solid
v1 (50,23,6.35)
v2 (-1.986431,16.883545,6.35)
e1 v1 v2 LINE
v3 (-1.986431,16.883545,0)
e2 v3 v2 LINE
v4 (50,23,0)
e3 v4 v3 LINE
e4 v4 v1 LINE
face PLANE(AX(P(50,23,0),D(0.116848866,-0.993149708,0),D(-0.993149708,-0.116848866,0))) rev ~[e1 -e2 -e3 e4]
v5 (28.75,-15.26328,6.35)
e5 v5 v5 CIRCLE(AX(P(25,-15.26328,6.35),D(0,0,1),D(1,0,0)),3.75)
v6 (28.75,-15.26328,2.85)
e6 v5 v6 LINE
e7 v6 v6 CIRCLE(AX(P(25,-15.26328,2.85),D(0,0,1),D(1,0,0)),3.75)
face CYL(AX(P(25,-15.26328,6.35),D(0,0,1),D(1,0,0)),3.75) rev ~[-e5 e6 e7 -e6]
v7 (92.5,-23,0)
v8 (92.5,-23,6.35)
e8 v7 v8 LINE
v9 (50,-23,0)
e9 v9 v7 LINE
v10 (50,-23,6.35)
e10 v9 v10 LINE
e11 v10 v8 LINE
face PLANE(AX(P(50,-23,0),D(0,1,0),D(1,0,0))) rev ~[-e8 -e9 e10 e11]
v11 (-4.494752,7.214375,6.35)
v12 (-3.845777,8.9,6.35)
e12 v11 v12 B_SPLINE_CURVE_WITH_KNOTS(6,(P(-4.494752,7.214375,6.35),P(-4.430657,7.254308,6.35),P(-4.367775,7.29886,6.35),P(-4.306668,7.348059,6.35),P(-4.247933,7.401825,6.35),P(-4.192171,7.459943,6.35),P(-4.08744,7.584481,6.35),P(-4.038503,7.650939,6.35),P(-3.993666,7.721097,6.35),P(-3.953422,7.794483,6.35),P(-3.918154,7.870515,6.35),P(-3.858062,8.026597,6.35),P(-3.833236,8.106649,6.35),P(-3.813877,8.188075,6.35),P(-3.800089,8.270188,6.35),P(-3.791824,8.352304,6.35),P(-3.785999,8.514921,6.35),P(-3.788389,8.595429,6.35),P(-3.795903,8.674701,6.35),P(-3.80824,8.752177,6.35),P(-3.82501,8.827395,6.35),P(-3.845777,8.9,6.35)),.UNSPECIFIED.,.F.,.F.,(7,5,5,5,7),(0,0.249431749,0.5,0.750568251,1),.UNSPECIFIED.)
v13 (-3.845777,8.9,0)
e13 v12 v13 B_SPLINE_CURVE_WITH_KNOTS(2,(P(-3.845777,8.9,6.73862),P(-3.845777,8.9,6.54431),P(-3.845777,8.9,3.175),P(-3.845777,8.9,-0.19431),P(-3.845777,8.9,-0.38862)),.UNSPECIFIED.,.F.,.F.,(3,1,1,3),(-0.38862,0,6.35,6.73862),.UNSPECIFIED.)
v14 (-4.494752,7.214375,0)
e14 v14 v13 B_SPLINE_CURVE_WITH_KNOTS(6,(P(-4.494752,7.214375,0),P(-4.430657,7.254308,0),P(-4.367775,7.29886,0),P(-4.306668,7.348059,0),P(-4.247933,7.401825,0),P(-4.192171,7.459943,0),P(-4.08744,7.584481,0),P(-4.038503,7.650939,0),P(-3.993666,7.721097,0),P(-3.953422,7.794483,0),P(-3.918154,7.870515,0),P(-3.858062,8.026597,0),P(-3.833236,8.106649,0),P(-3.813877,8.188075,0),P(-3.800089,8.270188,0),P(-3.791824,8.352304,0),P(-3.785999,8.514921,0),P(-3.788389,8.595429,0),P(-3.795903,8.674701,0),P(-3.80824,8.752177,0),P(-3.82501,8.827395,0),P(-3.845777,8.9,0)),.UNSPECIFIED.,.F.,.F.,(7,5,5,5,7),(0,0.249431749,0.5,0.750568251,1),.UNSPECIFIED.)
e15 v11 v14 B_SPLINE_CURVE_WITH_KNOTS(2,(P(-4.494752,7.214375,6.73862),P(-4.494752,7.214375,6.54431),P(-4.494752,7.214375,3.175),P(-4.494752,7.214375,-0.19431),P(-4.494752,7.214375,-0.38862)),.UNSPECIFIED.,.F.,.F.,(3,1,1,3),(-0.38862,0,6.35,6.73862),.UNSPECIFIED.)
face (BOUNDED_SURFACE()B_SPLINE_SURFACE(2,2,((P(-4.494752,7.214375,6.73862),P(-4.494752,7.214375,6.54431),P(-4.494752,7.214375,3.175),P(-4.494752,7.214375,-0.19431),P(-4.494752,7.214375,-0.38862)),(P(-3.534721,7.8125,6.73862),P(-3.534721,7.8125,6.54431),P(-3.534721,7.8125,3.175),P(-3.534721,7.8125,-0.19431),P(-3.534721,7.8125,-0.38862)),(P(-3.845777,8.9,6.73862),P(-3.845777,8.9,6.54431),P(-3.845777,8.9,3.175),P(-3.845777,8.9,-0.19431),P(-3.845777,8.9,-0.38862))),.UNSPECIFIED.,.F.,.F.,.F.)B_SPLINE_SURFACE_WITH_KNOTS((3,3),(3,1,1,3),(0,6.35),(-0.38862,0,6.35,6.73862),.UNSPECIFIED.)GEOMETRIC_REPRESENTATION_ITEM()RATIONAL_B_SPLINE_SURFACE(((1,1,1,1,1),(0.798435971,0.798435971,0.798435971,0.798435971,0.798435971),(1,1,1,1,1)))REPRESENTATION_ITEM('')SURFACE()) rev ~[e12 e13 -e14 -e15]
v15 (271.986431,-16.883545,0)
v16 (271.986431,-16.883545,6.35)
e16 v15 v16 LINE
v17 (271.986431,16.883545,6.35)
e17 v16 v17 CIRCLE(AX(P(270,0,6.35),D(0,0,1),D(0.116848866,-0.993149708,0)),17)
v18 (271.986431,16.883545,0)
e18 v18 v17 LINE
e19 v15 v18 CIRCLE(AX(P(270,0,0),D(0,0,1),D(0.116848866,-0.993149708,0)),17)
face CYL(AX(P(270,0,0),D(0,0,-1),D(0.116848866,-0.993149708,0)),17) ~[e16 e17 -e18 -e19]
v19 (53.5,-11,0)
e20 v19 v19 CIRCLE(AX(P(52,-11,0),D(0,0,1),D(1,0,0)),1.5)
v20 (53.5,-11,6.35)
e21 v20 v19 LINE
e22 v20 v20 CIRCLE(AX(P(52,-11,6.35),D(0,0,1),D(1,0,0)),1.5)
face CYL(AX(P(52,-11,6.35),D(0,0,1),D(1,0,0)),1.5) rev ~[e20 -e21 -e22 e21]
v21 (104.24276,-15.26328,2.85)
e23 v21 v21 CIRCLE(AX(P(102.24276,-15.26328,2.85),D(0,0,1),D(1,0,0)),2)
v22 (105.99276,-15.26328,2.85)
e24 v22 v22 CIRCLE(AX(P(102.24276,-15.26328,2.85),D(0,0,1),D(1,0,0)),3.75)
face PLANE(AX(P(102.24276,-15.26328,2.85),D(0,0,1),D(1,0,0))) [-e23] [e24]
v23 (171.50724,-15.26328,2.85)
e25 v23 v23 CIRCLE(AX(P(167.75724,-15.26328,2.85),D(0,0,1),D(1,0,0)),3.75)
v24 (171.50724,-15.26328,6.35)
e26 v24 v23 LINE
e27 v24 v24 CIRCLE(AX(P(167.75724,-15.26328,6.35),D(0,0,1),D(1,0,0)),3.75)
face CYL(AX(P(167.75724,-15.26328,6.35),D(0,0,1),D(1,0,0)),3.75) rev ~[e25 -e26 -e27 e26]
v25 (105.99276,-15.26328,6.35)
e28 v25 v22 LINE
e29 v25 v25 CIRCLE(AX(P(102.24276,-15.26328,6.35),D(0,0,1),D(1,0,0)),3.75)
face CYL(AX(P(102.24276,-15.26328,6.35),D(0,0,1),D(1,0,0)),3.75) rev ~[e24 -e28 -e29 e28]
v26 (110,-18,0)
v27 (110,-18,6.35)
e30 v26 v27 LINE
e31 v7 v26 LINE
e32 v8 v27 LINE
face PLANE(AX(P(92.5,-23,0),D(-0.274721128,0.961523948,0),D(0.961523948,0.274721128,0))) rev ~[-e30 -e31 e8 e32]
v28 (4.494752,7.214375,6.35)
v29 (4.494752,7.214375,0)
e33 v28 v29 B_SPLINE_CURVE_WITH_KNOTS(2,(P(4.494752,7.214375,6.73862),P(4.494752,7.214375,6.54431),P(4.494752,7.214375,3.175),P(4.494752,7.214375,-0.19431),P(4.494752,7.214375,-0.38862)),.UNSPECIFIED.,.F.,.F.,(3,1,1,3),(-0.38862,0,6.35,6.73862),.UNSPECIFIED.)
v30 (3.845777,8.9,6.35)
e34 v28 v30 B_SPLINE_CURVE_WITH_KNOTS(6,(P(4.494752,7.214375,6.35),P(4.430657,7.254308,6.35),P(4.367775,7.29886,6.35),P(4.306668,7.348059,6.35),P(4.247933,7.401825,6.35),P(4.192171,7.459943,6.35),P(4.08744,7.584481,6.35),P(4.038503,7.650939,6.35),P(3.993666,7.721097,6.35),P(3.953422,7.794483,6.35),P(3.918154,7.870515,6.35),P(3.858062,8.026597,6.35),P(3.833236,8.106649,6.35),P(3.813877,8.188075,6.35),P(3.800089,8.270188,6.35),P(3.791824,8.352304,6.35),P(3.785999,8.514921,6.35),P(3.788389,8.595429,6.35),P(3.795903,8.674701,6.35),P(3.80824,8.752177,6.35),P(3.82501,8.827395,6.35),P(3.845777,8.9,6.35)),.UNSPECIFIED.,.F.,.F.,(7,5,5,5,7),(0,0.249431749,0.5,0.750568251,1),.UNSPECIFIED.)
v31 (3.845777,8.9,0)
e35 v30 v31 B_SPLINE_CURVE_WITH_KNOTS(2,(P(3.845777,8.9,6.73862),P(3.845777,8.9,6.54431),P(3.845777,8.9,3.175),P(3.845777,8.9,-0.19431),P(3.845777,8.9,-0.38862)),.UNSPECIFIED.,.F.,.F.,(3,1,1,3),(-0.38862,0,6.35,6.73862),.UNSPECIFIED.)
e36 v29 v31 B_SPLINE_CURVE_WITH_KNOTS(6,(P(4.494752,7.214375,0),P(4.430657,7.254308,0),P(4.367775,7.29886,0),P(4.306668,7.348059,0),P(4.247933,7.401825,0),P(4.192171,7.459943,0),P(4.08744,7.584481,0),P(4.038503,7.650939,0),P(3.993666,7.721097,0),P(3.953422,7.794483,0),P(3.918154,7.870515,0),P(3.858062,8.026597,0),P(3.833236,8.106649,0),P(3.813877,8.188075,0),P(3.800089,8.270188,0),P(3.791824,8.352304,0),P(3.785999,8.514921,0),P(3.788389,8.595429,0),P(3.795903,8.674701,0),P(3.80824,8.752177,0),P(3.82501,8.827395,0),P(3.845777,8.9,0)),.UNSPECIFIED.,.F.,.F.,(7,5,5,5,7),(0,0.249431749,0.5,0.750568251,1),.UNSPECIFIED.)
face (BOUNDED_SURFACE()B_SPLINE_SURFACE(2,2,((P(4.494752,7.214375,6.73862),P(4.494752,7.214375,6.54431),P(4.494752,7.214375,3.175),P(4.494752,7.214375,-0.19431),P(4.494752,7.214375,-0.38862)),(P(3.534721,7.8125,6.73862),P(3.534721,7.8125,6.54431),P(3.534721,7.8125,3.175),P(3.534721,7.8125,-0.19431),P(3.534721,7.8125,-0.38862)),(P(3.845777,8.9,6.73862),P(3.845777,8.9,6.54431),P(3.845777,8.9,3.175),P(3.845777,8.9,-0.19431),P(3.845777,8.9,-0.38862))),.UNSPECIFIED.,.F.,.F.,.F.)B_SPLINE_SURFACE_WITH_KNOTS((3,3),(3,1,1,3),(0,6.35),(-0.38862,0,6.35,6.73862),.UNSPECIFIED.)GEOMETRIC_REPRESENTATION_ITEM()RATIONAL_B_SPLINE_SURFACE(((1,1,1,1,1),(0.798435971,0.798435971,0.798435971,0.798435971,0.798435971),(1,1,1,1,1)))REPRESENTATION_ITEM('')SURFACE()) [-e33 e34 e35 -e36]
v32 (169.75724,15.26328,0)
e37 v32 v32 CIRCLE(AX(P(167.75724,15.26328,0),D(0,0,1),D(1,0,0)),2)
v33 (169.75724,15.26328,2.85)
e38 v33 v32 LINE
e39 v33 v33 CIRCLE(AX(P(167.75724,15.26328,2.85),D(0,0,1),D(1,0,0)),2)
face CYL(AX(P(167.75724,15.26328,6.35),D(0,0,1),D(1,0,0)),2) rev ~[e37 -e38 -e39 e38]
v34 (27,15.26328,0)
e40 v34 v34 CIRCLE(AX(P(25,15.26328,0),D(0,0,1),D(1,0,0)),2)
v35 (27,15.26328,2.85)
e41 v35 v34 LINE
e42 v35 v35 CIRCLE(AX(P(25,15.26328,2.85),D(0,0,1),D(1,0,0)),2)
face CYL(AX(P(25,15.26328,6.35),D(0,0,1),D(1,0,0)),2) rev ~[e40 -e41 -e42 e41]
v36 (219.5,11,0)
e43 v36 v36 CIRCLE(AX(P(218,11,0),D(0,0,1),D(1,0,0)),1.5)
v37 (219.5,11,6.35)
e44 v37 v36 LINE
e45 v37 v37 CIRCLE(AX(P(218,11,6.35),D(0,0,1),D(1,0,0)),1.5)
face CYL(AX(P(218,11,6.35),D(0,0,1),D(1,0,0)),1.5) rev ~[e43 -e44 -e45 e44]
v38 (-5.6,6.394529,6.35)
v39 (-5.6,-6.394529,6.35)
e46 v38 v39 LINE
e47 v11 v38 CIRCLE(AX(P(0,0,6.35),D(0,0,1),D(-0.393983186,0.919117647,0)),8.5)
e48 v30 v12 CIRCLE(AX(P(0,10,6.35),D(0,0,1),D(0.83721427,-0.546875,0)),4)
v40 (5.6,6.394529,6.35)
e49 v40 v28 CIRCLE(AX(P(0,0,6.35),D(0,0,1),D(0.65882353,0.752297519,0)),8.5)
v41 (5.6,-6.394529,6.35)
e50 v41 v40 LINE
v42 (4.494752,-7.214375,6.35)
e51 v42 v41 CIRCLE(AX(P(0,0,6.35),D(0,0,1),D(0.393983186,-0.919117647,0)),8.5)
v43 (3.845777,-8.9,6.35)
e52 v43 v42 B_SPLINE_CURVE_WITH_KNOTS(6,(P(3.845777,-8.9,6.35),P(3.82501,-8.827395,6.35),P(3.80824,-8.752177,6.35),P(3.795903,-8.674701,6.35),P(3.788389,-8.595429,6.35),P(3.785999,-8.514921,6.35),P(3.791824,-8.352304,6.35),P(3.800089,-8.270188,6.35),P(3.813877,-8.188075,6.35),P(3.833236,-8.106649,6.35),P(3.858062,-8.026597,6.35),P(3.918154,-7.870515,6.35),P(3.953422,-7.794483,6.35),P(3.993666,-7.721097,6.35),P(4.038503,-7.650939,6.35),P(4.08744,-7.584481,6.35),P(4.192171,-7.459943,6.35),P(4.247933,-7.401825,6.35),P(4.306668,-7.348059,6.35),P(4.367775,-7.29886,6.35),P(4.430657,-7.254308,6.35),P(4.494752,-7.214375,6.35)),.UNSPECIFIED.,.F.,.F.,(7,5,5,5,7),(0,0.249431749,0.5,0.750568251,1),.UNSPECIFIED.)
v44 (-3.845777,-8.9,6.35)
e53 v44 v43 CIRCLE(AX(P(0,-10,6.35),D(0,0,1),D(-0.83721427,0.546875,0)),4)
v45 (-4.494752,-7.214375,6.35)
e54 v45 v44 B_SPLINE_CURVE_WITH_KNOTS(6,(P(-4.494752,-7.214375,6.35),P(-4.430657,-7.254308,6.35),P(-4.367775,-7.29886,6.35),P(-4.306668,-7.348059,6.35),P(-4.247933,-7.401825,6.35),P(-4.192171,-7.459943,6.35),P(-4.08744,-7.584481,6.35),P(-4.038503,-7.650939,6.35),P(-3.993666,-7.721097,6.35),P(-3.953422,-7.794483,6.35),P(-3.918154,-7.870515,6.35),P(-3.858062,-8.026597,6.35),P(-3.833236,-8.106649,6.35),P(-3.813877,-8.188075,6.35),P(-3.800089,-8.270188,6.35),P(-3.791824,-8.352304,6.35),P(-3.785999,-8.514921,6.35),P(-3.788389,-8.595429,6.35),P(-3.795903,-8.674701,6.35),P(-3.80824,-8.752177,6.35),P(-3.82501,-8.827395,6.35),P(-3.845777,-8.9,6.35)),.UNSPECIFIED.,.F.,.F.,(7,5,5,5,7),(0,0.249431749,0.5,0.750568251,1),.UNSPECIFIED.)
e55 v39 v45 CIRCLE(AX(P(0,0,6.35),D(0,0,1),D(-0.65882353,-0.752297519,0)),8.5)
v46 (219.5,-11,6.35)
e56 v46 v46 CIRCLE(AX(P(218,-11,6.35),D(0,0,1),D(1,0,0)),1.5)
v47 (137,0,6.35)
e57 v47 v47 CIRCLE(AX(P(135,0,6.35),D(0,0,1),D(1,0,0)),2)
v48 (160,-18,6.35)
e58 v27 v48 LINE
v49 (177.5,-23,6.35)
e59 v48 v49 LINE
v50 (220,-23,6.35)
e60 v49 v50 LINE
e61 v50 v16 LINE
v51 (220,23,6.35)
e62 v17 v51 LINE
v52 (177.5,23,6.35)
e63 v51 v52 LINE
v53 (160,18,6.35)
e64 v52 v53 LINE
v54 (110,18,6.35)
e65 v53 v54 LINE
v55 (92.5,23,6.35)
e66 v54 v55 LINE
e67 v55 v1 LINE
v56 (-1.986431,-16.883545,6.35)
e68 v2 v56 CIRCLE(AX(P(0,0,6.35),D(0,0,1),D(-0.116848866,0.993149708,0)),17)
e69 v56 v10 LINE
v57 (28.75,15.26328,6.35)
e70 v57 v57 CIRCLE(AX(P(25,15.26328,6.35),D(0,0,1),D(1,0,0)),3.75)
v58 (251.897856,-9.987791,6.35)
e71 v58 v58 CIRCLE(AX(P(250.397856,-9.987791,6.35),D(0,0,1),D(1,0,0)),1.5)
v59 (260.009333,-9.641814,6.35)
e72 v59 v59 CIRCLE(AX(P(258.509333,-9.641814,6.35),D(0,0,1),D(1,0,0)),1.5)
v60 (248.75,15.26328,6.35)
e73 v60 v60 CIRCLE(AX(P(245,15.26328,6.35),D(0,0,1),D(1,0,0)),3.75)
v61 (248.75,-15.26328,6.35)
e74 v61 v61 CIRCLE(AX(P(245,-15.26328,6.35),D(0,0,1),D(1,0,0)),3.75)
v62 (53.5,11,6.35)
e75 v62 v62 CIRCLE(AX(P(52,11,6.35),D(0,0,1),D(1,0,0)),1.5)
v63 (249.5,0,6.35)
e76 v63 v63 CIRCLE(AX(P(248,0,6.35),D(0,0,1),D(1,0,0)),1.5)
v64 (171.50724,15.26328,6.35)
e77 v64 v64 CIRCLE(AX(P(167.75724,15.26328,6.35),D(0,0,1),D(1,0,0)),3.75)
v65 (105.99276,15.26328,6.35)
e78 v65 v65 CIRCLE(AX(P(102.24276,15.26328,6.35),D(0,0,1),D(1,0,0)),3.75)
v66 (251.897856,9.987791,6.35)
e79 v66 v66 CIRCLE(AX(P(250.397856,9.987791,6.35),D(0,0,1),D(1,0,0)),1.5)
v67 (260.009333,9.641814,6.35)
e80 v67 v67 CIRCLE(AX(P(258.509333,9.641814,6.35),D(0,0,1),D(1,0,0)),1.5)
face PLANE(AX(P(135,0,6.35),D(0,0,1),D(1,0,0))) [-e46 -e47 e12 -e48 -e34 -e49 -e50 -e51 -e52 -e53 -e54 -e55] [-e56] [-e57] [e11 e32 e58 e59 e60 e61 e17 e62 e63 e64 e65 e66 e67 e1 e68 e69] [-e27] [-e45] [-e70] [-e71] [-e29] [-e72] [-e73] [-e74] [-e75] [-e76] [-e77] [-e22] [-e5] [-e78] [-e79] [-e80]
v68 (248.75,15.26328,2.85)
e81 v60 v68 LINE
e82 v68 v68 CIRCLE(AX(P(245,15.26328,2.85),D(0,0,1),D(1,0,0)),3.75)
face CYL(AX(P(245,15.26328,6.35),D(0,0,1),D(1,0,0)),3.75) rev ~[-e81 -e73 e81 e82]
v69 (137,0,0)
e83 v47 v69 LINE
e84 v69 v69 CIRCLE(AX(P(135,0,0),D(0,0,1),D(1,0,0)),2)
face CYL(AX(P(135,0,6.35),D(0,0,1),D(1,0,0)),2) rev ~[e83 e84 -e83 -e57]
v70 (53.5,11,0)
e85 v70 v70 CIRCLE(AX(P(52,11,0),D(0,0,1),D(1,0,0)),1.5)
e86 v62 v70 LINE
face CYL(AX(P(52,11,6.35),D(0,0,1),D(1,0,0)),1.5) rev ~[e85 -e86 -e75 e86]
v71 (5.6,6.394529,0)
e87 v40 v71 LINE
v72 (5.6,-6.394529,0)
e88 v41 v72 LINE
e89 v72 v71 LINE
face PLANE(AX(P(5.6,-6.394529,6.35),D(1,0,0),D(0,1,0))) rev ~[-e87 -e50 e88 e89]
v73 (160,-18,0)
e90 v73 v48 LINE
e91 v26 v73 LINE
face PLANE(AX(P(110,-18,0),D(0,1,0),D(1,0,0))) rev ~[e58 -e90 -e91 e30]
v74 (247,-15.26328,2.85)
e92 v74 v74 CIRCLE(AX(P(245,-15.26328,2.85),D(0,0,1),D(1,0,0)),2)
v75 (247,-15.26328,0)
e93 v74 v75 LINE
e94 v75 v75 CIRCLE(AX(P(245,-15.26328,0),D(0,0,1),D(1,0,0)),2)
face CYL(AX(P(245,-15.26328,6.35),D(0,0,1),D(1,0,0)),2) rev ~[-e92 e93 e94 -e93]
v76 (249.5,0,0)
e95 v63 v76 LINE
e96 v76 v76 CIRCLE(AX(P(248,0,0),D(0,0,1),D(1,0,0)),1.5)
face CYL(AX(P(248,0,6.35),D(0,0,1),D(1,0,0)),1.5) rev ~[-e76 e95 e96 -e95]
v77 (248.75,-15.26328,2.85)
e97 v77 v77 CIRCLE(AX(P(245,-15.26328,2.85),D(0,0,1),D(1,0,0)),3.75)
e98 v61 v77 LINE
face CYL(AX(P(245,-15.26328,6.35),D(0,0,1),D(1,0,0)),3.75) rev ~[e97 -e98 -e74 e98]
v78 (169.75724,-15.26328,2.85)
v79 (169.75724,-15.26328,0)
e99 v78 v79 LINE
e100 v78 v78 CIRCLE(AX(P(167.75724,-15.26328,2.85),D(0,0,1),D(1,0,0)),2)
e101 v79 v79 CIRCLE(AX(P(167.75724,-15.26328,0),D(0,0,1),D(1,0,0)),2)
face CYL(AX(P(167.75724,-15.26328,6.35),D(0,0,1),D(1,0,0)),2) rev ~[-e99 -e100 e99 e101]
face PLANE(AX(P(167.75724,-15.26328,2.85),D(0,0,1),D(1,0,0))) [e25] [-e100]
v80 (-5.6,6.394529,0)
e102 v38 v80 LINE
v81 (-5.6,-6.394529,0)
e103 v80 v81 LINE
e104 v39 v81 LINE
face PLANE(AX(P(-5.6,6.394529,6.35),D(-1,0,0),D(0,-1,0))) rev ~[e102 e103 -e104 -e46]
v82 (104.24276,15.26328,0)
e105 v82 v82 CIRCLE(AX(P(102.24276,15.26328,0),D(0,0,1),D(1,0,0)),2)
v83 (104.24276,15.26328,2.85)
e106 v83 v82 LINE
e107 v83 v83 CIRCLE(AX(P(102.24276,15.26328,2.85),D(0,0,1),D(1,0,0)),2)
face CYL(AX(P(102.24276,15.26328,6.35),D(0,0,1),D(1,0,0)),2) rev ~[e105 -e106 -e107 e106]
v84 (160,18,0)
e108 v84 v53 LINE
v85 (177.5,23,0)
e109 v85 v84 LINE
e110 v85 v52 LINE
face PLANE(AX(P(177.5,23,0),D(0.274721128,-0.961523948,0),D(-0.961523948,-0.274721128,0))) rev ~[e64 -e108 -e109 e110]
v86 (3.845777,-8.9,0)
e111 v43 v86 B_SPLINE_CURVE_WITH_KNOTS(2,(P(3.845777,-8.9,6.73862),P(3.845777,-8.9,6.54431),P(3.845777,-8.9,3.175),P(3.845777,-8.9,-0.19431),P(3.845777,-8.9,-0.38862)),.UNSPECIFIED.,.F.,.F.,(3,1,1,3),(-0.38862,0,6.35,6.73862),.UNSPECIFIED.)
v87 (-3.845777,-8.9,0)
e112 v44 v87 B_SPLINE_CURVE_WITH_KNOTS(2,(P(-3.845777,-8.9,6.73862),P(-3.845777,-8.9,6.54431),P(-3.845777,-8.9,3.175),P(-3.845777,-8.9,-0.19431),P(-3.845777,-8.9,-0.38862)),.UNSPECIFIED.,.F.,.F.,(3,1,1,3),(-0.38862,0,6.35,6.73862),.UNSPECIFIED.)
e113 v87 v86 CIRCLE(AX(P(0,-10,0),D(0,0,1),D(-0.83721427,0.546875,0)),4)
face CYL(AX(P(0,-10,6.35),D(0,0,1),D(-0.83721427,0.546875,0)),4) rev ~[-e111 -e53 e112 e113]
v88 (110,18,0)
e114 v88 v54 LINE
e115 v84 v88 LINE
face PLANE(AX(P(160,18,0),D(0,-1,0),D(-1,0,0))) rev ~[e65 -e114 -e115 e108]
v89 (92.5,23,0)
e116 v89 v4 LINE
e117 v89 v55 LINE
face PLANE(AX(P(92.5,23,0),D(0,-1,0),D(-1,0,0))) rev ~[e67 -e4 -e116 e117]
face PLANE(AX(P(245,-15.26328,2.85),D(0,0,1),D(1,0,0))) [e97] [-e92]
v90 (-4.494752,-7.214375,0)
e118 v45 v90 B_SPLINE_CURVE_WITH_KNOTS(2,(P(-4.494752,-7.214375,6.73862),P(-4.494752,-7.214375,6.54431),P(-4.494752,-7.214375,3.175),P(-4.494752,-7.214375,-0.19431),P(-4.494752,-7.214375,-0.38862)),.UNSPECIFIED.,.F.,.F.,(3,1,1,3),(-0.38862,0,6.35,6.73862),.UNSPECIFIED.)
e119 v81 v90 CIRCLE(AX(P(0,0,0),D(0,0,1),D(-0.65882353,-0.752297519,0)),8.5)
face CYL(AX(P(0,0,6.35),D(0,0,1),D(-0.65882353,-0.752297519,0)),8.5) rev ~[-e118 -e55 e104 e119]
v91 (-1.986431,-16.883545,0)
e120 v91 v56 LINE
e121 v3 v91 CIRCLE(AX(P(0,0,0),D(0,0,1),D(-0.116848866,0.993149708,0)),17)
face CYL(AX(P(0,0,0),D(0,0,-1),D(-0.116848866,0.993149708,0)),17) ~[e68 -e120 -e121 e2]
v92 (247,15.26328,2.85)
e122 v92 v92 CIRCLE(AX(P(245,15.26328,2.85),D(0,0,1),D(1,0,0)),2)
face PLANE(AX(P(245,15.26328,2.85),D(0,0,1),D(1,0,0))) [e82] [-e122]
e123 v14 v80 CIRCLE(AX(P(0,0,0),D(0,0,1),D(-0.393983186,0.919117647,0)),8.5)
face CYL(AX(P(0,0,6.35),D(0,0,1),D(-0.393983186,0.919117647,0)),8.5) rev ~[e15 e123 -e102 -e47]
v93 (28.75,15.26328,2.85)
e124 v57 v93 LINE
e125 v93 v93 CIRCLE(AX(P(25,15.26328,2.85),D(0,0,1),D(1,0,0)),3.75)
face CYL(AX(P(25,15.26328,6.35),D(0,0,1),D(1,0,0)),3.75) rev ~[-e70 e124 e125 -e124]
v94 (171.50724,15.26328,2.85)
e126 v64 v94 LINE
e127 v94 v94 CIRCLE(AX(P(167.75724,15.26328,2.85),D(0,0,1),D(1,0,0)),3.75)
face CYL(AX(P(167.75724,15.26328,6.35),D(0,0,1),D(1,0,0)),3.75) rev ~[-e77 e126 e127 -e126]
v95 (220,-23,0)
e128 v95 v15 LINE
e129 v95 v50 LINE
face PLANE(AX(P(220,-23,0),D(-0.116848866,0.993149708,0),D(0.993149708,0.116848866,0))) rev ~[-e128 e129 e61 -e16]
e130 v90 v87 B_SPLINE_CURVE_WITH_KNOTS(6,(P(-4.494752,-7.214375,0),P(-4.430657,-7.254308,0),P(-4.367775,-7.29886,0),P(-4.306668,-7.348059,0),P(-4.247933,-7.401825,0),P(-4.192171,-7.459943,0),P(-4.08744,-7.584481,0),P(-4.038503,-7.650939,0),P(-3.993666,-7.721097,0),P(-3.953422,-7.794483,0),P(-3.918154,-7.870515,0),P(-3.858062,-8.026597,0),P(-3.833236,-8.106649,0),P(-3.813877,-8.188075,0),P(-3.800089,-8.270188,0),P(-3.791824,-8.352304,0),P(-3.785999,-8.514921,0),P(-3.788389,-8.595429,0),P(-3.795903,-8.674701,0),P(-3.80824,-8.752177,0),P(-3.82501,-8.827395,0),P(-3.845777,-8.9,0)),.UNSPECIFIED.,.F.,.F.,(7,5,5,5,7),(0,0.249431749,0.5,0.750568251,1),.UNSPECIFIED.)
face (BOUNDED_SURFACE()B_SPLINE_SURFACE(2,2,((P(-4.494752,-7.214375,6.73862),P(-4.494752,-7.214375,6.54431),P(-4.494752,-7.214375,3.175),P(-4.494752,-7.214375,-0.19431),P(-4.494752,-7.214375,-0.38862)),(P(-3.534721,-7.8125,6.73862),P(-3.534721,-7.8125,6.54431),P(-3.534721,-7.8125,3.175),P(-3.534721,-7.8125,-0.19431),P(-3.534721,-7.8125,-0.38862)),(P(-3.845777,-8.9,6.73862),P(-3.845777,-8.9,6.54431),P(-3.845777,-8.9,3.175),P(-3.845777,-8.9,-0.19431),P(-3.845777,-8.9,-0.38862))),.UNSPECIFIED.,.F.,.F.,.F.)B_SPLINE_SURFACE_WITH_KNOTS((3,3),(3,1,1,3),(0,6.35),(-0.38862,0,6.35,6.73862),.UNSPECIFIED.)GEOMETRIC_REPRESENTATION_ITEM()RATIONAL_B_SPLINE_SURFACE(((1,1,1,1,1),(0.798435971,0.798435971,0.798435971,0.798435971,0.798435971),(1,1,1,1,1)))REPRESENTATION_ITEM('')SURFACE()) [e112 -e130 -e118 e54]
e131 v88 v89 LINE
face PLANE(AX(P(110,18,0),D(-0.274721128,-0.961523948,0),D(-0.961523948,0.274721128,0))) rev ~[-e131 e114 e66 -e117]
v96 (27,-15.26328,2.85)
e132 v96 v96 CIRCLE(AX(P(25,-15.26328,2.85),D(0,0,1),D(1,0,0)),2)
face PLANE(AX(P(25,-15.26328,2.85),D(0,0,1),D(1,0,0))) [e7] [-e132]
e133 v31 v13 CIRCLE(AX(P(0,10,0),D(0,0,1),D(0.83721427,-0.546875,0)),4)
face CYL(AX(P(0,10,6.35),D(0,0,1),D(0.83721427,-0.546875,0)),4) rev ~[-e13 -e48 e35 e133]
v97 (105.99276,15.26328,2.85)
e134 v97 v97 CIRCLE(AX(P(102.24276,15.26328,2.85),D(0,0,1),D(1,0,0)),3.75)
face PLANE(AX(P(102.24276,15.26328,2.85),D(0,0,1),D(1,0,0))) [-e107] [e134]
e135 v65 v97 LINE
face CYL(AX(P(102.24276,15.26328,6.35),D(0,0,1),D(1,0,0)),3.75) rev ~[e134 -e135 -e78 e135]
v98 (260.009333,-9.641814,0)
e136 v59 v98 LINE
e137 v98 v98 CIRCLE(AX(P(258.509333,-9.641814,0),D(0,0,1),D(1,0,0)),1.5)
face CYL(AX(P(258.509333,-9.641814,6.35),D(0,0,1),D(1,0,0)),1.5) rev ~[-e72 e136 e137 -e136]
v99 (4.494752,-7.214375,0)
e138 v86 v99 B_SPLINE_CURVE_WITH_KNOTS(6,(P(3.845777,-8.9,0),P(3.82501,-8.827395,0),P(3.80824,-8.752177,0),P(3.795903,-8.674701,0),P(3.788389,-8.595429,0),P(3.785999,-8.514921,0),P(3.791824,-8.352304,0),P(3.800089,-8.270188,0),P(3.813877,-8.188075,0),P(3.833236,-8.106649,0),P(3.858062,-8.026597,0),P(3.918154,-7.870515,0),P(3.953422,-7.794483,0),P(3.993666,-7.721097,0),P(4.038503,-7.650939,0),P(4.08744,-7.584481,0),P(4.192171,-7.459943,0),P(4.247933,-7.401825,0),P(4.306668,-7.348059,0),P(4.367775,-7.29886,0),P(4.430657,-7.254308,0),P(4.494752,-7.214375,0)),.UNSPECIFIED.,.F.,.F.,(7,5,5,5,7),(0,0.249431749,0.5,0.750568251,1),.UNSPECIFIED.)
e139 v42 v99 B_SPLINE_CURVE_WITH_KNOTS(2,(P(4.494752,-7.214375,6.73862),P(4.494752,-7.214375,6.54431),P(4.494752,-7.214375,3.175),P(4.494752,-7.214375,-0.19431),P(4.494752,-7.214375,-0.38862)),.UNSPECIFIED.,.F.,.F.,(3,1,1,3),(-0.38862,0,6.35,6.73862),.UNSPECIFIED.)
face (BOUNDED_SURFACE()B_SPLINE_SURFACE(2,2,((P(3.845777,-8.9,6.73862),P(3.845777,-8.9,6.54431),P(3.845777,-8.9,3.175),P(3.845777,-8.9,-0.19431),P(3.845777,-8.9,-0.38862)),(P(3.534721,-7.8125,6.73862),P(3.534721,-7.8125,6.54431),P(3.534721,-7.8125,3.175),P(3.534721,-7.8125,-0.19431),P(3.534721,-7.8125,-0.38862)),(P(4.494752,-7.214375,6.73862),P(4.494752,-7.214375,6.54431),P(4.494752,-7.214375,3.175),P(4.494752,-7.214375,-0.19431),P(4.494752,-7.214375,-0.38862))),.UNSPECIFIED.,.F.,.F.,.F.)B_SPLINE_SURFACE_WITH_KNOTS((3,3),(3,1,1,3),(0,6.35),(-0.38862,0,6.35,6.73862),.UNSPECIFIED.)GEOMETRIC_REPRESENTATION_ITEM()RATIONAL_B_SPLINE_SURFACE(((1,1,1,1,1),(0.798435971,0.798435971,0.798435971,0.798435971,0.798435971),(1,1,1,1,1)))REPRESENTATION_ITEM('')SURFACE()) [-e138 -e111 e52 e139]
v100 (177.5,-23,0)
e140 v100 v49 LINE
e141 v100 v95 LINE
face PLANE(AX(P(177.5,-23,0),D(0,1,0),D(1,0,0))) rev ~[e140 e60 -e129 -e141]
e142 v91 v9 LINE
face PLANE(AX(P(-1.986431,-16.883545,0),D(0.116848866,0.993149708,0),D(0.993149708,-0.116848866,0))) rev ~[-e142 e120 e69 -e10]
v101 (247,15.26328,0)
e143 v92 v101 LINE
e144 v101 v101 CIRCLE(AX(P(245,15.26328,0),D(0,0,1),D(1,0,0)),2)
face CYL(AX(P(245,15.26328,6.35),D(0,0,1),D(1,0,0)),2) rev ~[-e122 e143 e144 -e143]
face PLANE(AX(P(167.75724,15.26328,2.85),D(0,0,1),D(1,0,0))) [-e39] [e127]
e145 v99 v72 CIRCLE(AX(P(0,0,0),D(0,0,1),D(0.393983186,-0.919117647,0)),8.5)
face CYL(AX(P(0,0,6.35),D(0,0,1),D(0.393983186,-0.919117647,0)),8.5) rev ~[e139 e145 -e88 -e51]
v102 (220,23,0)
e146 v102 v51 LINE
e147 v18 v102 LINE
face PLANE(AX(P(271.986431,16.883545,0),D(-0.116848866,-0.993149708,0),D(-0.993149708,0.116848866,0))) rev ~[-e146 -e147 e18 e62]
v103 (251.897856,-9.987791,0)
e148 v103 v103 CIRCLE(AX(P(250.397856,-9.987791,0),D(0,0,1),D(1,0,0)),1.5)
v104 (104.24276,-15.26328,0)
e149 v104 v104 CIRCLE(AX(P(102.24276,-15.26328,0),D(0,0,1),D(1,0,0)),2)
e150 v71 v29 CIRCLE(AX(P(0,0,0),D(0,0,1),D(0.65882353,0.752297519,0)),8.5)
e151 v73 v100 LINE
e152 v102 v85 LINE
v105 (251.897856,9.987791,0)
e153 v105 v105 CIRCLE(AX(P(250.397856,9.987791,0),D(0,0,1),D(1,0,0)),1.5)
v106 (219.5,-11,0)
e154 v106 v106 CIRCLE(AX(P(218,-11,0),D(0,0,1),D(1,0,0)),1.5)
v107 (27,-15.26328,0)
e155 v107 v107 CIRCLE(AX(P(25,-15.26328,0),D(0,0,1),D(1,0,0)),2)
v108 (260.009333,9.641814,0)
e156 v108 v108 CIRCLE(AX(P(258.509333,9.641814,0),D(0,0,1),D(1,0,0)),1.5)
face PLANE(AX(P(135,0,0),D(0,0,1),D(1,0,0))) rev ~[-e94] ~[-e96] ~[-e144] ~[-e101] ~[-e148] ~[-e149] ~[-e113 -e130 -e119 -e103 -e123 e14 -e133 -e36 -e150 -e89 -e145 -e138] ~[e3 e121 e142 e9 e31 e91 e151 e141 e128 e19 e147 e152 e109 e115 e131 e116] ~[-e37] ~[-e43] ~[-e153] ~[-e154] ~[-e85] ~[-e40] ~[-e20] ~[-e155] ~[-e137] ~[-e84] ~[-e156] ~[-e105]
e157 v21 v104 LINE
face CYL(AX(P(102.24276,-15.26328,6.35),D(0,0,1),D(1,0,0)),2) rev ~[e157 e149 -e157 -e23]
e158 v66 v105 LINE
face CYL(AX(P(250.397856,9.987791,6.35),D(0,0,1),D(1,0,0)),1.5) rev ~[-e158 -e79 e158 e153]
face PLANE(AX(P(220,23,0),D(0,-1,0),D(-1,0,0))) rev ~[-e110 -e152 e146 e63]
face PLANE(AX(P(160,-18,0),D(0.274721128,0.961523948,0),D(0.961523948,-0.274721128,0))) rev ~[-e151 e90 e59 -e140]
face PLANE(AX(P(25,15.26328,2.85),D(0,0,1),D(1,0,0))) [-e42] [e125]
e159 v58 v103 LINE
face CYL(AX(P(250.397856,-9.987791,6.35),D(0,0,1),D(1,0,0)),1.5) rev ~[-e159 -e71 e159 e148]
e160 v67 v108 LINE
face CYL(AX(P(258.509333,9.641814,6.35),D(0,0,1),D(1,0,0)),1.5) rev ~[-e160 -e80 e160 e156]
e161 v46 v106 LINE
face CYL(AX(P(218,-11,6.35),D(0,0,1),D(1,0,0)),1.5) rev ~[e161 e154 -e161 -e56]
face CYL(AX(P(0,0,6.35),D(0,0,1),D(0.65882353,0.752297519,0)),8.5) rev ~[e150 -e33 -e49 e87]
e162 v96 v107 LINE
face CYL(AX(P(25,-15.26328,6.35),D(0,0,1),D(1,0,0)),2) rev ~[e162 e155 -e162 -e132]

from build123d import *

# Parameters (mm, degrees)
SALIENTE_EXTRUIR1_DEPTH = 6.35
CROQUIS3_R              = 1.5
CROQUIS3_R_2            = 2
CORTAR_EXTRUIR2_DEPTH   = 7.35
CORTAR_EXTRUIR3_DEPTH   = 56
REDONDEO2_R             = 1.5
CROQUIS5_R              = 2
CORTAR_EXTRUIR5_DEPTH   = 7.3500001
CROQUIS7_R              = 3.75
CORTAR_EXTRUIR6_DEPTH   = 3.5
CROQUIS8_R              = 1.5
CORTAR_EXTRUIR7_DEPTH   = 7.3500001


with BuildPart() as part:
    # Croquis1 → Saliente-Extruir1 (new body)
    with BuildSketch(Plane.XY):
        with BuildLine():
            Line((92.5, 23), (50, 23))
            Line((50, 23), (-1.986430717, 16.883545037))
            ThreePointArc((-1.986430717, 16.883545037), (-17, 0), (-1.986430717, -16.883545037))
            Line((-1.986430717, -16.883545037), (50, -23))
            Line((50, -23), (92.5, -23))
            Line((92.5, -23), (110, -18))
            Line((110, -18), (160, -18))
            Line((160, -18), (177.5, -23))
            Line((177.5, -23), (220, -23))
            Line((220, -23), (271.986430717, -16.883545037))
            ThreePointArc((271.986430717, -16.883545037), (287, 0), (271.986430717, 16.883545037))
            Line((271.986430717, 16.883545037), (220, 23))
            Line((220, 23), (177.5, 23))
            Line((177.5, 23), (160, 18))
            Line((160, 18), (110, 18))
            Line((110, 18), (92.5, 23))
        make_face()
    extrude(amount=SALIENTE_EXTRUIR1_DEPTH)

    # Croquis3 → Cortar-Extruir2 (cut, through all)
    with BuildSketch(Plane.XY.offset(6.35)):
        with Locations((52, 11)):
            Circle(CROQUIS3_R)
        with Locations((52, -11)):
            Circle(CROQUIS3_R)
        with Locations((218, -11)):
            Circle(CROQUIS3_R)
        with Locations((218, 11)):
            Circle(CROQUIS3_R)
        with Locations((135, 0)):
            Circle(CROQUIS3_R_2)
    extrude(amount=-CORTAR_EXTRUIR2_DEPTH, mode=Mode.SUBTRACT)

    # Croquis2 → Cortar-Extruir3 (cut)
    with BuildSketch(Plane.XY.offset(6.35)):
        with BuildLine():
            ThreePointArc((-3.348857081, 7.8125), (-4.530250685, 7.19213659), (-5.6, 6.394528911))
            Line((-5.6, 6.394528911), (-5.6, -6.394528911))
            ThreePointArc((-5.6, -6.394528911), (-4.530250685, -7.19213659), (-3.348857081, -7.8125))
            ThreePointArc((-3.348857081, -7.8125), (0, -14), (3.348857081, -7.8125))
            ThreePointArc((3.348857081, -7.8125), (4.530250685, -7.19213659), (5.6, -6.394528911))
            Line((5.6, -6.394528911), (5.6, 6.394528911))
            ThreePointArc((5.6, 6.394528911), (4.530250685, 7.19213659), (3.348857081, 7.8125))
            ThreePointArc((3.348857081, 7.8125), (0, 14), (-3.348857081, 7.8125))
        make_face()
    extrude(amount=-CORTAR_EXTRUIR3_DEPTH, mode=Mode.SUBTRACT)

    # Redondeo2
    redondeo2_edges = [part.edges().sort_by_distance(p)[0] for p in [
        (-3.348857081, 7.8125, 3.175),
        (3.348857081, 7.8125, 3.175),
        (3.348857081, -7.8125, 3.175),
        (-3.348857081, -7.8125, 3.175),
    ]]
    fillet(redondeo2_edges, radius=REDONDEO2_R)

    # Croquis5 → Cortar-Extruir5 (cut, through all)
    with BuildSketch(Plane.XY.offset(6.35)):
        with Locations((25, 15.263279564)):
            Circle(CROQUIS5_R)
        with Locations((25, -15.263279564)):
            Circle(CROQUIS5_R)
        with Locations((102.242759853, 15.263279564)):
            Circle(CROQUIS5_R)
        with Locations((102.242759853, -15.263279564)):
            Circle(CROQUIS5_R)
        with Locations((167.757240147, -15.263279564)):
            Circle(CROQUIS5_R)
        with Locations((167.757240147, 15.263279564)):
            Circle(CROQUIS5_R)
        with Locations((245, 15.263279564)):
            Circle(CROQUIS5_R)
        with Locations((245, -15.263279564)):
            Circle(CROQUIS5_R)
    extrude(amount=-CORTAR_EXTRUIR5_DEPTH, mode=Mode.SUBTRACT)

    # Croquis7 → Cortar-Extruir6 (cut)
    with BuildSketch(Plane.XY.offset(6.35)):
        with Locations((25, 15.263279564)):
            Circle(CROQUIS7_R)
        with Locations((25, -15.263279564)):
            Circle(CROQUIS7_R)
        with Locations((245, 15.263279564)):
            Circle(CROQUIS7_R)
        with Locations((245, -15.263279564)):
            Circle(CROQUIS7_R)
        with Locations((102.242759853, 15.263279564)):
            Circle(CROQUIS7_R)
        with Locations((102.242759853, -15.263279564)):
            Circle(CROQUIS7_R)
        with Locations((167.757240147, -15.263279564)):
            Circle(CROQUIS7_R)
        with Locations((167.757240147, 15.263279564)):
            Circle(CROQUIS7_R)
    extrude(amount=-CORTAR_EXTRUIR6_DEPTH, mode=Mode.SUBTRACT)

    # Croquis8 → Cortar-Extruir7 (cut, through all)
    with BuildSketch(Plane.XY.offset(6.35)):
        with Locations((248, 0)):
            Circle(CROQUIS8_R)
        with Locations((250.397856468, 9.987790994)):
            Circle(CROQUIS8_R)
        with Locations((258.509333353, 9.641814145)):
            Circle(CROQUIS8_R)
        with Locations((258.509333353, -9.641814145)):
            Circle(CROQUIS8_R)
        with Locations((250.397856468, -9.987790994)):
            Circle(CROQUIS8_R)
    extrude(amount=-CORTAR_EXTRUIR7_DEPTH, mode=Mode.SUBTRACT)


solid = part.part
